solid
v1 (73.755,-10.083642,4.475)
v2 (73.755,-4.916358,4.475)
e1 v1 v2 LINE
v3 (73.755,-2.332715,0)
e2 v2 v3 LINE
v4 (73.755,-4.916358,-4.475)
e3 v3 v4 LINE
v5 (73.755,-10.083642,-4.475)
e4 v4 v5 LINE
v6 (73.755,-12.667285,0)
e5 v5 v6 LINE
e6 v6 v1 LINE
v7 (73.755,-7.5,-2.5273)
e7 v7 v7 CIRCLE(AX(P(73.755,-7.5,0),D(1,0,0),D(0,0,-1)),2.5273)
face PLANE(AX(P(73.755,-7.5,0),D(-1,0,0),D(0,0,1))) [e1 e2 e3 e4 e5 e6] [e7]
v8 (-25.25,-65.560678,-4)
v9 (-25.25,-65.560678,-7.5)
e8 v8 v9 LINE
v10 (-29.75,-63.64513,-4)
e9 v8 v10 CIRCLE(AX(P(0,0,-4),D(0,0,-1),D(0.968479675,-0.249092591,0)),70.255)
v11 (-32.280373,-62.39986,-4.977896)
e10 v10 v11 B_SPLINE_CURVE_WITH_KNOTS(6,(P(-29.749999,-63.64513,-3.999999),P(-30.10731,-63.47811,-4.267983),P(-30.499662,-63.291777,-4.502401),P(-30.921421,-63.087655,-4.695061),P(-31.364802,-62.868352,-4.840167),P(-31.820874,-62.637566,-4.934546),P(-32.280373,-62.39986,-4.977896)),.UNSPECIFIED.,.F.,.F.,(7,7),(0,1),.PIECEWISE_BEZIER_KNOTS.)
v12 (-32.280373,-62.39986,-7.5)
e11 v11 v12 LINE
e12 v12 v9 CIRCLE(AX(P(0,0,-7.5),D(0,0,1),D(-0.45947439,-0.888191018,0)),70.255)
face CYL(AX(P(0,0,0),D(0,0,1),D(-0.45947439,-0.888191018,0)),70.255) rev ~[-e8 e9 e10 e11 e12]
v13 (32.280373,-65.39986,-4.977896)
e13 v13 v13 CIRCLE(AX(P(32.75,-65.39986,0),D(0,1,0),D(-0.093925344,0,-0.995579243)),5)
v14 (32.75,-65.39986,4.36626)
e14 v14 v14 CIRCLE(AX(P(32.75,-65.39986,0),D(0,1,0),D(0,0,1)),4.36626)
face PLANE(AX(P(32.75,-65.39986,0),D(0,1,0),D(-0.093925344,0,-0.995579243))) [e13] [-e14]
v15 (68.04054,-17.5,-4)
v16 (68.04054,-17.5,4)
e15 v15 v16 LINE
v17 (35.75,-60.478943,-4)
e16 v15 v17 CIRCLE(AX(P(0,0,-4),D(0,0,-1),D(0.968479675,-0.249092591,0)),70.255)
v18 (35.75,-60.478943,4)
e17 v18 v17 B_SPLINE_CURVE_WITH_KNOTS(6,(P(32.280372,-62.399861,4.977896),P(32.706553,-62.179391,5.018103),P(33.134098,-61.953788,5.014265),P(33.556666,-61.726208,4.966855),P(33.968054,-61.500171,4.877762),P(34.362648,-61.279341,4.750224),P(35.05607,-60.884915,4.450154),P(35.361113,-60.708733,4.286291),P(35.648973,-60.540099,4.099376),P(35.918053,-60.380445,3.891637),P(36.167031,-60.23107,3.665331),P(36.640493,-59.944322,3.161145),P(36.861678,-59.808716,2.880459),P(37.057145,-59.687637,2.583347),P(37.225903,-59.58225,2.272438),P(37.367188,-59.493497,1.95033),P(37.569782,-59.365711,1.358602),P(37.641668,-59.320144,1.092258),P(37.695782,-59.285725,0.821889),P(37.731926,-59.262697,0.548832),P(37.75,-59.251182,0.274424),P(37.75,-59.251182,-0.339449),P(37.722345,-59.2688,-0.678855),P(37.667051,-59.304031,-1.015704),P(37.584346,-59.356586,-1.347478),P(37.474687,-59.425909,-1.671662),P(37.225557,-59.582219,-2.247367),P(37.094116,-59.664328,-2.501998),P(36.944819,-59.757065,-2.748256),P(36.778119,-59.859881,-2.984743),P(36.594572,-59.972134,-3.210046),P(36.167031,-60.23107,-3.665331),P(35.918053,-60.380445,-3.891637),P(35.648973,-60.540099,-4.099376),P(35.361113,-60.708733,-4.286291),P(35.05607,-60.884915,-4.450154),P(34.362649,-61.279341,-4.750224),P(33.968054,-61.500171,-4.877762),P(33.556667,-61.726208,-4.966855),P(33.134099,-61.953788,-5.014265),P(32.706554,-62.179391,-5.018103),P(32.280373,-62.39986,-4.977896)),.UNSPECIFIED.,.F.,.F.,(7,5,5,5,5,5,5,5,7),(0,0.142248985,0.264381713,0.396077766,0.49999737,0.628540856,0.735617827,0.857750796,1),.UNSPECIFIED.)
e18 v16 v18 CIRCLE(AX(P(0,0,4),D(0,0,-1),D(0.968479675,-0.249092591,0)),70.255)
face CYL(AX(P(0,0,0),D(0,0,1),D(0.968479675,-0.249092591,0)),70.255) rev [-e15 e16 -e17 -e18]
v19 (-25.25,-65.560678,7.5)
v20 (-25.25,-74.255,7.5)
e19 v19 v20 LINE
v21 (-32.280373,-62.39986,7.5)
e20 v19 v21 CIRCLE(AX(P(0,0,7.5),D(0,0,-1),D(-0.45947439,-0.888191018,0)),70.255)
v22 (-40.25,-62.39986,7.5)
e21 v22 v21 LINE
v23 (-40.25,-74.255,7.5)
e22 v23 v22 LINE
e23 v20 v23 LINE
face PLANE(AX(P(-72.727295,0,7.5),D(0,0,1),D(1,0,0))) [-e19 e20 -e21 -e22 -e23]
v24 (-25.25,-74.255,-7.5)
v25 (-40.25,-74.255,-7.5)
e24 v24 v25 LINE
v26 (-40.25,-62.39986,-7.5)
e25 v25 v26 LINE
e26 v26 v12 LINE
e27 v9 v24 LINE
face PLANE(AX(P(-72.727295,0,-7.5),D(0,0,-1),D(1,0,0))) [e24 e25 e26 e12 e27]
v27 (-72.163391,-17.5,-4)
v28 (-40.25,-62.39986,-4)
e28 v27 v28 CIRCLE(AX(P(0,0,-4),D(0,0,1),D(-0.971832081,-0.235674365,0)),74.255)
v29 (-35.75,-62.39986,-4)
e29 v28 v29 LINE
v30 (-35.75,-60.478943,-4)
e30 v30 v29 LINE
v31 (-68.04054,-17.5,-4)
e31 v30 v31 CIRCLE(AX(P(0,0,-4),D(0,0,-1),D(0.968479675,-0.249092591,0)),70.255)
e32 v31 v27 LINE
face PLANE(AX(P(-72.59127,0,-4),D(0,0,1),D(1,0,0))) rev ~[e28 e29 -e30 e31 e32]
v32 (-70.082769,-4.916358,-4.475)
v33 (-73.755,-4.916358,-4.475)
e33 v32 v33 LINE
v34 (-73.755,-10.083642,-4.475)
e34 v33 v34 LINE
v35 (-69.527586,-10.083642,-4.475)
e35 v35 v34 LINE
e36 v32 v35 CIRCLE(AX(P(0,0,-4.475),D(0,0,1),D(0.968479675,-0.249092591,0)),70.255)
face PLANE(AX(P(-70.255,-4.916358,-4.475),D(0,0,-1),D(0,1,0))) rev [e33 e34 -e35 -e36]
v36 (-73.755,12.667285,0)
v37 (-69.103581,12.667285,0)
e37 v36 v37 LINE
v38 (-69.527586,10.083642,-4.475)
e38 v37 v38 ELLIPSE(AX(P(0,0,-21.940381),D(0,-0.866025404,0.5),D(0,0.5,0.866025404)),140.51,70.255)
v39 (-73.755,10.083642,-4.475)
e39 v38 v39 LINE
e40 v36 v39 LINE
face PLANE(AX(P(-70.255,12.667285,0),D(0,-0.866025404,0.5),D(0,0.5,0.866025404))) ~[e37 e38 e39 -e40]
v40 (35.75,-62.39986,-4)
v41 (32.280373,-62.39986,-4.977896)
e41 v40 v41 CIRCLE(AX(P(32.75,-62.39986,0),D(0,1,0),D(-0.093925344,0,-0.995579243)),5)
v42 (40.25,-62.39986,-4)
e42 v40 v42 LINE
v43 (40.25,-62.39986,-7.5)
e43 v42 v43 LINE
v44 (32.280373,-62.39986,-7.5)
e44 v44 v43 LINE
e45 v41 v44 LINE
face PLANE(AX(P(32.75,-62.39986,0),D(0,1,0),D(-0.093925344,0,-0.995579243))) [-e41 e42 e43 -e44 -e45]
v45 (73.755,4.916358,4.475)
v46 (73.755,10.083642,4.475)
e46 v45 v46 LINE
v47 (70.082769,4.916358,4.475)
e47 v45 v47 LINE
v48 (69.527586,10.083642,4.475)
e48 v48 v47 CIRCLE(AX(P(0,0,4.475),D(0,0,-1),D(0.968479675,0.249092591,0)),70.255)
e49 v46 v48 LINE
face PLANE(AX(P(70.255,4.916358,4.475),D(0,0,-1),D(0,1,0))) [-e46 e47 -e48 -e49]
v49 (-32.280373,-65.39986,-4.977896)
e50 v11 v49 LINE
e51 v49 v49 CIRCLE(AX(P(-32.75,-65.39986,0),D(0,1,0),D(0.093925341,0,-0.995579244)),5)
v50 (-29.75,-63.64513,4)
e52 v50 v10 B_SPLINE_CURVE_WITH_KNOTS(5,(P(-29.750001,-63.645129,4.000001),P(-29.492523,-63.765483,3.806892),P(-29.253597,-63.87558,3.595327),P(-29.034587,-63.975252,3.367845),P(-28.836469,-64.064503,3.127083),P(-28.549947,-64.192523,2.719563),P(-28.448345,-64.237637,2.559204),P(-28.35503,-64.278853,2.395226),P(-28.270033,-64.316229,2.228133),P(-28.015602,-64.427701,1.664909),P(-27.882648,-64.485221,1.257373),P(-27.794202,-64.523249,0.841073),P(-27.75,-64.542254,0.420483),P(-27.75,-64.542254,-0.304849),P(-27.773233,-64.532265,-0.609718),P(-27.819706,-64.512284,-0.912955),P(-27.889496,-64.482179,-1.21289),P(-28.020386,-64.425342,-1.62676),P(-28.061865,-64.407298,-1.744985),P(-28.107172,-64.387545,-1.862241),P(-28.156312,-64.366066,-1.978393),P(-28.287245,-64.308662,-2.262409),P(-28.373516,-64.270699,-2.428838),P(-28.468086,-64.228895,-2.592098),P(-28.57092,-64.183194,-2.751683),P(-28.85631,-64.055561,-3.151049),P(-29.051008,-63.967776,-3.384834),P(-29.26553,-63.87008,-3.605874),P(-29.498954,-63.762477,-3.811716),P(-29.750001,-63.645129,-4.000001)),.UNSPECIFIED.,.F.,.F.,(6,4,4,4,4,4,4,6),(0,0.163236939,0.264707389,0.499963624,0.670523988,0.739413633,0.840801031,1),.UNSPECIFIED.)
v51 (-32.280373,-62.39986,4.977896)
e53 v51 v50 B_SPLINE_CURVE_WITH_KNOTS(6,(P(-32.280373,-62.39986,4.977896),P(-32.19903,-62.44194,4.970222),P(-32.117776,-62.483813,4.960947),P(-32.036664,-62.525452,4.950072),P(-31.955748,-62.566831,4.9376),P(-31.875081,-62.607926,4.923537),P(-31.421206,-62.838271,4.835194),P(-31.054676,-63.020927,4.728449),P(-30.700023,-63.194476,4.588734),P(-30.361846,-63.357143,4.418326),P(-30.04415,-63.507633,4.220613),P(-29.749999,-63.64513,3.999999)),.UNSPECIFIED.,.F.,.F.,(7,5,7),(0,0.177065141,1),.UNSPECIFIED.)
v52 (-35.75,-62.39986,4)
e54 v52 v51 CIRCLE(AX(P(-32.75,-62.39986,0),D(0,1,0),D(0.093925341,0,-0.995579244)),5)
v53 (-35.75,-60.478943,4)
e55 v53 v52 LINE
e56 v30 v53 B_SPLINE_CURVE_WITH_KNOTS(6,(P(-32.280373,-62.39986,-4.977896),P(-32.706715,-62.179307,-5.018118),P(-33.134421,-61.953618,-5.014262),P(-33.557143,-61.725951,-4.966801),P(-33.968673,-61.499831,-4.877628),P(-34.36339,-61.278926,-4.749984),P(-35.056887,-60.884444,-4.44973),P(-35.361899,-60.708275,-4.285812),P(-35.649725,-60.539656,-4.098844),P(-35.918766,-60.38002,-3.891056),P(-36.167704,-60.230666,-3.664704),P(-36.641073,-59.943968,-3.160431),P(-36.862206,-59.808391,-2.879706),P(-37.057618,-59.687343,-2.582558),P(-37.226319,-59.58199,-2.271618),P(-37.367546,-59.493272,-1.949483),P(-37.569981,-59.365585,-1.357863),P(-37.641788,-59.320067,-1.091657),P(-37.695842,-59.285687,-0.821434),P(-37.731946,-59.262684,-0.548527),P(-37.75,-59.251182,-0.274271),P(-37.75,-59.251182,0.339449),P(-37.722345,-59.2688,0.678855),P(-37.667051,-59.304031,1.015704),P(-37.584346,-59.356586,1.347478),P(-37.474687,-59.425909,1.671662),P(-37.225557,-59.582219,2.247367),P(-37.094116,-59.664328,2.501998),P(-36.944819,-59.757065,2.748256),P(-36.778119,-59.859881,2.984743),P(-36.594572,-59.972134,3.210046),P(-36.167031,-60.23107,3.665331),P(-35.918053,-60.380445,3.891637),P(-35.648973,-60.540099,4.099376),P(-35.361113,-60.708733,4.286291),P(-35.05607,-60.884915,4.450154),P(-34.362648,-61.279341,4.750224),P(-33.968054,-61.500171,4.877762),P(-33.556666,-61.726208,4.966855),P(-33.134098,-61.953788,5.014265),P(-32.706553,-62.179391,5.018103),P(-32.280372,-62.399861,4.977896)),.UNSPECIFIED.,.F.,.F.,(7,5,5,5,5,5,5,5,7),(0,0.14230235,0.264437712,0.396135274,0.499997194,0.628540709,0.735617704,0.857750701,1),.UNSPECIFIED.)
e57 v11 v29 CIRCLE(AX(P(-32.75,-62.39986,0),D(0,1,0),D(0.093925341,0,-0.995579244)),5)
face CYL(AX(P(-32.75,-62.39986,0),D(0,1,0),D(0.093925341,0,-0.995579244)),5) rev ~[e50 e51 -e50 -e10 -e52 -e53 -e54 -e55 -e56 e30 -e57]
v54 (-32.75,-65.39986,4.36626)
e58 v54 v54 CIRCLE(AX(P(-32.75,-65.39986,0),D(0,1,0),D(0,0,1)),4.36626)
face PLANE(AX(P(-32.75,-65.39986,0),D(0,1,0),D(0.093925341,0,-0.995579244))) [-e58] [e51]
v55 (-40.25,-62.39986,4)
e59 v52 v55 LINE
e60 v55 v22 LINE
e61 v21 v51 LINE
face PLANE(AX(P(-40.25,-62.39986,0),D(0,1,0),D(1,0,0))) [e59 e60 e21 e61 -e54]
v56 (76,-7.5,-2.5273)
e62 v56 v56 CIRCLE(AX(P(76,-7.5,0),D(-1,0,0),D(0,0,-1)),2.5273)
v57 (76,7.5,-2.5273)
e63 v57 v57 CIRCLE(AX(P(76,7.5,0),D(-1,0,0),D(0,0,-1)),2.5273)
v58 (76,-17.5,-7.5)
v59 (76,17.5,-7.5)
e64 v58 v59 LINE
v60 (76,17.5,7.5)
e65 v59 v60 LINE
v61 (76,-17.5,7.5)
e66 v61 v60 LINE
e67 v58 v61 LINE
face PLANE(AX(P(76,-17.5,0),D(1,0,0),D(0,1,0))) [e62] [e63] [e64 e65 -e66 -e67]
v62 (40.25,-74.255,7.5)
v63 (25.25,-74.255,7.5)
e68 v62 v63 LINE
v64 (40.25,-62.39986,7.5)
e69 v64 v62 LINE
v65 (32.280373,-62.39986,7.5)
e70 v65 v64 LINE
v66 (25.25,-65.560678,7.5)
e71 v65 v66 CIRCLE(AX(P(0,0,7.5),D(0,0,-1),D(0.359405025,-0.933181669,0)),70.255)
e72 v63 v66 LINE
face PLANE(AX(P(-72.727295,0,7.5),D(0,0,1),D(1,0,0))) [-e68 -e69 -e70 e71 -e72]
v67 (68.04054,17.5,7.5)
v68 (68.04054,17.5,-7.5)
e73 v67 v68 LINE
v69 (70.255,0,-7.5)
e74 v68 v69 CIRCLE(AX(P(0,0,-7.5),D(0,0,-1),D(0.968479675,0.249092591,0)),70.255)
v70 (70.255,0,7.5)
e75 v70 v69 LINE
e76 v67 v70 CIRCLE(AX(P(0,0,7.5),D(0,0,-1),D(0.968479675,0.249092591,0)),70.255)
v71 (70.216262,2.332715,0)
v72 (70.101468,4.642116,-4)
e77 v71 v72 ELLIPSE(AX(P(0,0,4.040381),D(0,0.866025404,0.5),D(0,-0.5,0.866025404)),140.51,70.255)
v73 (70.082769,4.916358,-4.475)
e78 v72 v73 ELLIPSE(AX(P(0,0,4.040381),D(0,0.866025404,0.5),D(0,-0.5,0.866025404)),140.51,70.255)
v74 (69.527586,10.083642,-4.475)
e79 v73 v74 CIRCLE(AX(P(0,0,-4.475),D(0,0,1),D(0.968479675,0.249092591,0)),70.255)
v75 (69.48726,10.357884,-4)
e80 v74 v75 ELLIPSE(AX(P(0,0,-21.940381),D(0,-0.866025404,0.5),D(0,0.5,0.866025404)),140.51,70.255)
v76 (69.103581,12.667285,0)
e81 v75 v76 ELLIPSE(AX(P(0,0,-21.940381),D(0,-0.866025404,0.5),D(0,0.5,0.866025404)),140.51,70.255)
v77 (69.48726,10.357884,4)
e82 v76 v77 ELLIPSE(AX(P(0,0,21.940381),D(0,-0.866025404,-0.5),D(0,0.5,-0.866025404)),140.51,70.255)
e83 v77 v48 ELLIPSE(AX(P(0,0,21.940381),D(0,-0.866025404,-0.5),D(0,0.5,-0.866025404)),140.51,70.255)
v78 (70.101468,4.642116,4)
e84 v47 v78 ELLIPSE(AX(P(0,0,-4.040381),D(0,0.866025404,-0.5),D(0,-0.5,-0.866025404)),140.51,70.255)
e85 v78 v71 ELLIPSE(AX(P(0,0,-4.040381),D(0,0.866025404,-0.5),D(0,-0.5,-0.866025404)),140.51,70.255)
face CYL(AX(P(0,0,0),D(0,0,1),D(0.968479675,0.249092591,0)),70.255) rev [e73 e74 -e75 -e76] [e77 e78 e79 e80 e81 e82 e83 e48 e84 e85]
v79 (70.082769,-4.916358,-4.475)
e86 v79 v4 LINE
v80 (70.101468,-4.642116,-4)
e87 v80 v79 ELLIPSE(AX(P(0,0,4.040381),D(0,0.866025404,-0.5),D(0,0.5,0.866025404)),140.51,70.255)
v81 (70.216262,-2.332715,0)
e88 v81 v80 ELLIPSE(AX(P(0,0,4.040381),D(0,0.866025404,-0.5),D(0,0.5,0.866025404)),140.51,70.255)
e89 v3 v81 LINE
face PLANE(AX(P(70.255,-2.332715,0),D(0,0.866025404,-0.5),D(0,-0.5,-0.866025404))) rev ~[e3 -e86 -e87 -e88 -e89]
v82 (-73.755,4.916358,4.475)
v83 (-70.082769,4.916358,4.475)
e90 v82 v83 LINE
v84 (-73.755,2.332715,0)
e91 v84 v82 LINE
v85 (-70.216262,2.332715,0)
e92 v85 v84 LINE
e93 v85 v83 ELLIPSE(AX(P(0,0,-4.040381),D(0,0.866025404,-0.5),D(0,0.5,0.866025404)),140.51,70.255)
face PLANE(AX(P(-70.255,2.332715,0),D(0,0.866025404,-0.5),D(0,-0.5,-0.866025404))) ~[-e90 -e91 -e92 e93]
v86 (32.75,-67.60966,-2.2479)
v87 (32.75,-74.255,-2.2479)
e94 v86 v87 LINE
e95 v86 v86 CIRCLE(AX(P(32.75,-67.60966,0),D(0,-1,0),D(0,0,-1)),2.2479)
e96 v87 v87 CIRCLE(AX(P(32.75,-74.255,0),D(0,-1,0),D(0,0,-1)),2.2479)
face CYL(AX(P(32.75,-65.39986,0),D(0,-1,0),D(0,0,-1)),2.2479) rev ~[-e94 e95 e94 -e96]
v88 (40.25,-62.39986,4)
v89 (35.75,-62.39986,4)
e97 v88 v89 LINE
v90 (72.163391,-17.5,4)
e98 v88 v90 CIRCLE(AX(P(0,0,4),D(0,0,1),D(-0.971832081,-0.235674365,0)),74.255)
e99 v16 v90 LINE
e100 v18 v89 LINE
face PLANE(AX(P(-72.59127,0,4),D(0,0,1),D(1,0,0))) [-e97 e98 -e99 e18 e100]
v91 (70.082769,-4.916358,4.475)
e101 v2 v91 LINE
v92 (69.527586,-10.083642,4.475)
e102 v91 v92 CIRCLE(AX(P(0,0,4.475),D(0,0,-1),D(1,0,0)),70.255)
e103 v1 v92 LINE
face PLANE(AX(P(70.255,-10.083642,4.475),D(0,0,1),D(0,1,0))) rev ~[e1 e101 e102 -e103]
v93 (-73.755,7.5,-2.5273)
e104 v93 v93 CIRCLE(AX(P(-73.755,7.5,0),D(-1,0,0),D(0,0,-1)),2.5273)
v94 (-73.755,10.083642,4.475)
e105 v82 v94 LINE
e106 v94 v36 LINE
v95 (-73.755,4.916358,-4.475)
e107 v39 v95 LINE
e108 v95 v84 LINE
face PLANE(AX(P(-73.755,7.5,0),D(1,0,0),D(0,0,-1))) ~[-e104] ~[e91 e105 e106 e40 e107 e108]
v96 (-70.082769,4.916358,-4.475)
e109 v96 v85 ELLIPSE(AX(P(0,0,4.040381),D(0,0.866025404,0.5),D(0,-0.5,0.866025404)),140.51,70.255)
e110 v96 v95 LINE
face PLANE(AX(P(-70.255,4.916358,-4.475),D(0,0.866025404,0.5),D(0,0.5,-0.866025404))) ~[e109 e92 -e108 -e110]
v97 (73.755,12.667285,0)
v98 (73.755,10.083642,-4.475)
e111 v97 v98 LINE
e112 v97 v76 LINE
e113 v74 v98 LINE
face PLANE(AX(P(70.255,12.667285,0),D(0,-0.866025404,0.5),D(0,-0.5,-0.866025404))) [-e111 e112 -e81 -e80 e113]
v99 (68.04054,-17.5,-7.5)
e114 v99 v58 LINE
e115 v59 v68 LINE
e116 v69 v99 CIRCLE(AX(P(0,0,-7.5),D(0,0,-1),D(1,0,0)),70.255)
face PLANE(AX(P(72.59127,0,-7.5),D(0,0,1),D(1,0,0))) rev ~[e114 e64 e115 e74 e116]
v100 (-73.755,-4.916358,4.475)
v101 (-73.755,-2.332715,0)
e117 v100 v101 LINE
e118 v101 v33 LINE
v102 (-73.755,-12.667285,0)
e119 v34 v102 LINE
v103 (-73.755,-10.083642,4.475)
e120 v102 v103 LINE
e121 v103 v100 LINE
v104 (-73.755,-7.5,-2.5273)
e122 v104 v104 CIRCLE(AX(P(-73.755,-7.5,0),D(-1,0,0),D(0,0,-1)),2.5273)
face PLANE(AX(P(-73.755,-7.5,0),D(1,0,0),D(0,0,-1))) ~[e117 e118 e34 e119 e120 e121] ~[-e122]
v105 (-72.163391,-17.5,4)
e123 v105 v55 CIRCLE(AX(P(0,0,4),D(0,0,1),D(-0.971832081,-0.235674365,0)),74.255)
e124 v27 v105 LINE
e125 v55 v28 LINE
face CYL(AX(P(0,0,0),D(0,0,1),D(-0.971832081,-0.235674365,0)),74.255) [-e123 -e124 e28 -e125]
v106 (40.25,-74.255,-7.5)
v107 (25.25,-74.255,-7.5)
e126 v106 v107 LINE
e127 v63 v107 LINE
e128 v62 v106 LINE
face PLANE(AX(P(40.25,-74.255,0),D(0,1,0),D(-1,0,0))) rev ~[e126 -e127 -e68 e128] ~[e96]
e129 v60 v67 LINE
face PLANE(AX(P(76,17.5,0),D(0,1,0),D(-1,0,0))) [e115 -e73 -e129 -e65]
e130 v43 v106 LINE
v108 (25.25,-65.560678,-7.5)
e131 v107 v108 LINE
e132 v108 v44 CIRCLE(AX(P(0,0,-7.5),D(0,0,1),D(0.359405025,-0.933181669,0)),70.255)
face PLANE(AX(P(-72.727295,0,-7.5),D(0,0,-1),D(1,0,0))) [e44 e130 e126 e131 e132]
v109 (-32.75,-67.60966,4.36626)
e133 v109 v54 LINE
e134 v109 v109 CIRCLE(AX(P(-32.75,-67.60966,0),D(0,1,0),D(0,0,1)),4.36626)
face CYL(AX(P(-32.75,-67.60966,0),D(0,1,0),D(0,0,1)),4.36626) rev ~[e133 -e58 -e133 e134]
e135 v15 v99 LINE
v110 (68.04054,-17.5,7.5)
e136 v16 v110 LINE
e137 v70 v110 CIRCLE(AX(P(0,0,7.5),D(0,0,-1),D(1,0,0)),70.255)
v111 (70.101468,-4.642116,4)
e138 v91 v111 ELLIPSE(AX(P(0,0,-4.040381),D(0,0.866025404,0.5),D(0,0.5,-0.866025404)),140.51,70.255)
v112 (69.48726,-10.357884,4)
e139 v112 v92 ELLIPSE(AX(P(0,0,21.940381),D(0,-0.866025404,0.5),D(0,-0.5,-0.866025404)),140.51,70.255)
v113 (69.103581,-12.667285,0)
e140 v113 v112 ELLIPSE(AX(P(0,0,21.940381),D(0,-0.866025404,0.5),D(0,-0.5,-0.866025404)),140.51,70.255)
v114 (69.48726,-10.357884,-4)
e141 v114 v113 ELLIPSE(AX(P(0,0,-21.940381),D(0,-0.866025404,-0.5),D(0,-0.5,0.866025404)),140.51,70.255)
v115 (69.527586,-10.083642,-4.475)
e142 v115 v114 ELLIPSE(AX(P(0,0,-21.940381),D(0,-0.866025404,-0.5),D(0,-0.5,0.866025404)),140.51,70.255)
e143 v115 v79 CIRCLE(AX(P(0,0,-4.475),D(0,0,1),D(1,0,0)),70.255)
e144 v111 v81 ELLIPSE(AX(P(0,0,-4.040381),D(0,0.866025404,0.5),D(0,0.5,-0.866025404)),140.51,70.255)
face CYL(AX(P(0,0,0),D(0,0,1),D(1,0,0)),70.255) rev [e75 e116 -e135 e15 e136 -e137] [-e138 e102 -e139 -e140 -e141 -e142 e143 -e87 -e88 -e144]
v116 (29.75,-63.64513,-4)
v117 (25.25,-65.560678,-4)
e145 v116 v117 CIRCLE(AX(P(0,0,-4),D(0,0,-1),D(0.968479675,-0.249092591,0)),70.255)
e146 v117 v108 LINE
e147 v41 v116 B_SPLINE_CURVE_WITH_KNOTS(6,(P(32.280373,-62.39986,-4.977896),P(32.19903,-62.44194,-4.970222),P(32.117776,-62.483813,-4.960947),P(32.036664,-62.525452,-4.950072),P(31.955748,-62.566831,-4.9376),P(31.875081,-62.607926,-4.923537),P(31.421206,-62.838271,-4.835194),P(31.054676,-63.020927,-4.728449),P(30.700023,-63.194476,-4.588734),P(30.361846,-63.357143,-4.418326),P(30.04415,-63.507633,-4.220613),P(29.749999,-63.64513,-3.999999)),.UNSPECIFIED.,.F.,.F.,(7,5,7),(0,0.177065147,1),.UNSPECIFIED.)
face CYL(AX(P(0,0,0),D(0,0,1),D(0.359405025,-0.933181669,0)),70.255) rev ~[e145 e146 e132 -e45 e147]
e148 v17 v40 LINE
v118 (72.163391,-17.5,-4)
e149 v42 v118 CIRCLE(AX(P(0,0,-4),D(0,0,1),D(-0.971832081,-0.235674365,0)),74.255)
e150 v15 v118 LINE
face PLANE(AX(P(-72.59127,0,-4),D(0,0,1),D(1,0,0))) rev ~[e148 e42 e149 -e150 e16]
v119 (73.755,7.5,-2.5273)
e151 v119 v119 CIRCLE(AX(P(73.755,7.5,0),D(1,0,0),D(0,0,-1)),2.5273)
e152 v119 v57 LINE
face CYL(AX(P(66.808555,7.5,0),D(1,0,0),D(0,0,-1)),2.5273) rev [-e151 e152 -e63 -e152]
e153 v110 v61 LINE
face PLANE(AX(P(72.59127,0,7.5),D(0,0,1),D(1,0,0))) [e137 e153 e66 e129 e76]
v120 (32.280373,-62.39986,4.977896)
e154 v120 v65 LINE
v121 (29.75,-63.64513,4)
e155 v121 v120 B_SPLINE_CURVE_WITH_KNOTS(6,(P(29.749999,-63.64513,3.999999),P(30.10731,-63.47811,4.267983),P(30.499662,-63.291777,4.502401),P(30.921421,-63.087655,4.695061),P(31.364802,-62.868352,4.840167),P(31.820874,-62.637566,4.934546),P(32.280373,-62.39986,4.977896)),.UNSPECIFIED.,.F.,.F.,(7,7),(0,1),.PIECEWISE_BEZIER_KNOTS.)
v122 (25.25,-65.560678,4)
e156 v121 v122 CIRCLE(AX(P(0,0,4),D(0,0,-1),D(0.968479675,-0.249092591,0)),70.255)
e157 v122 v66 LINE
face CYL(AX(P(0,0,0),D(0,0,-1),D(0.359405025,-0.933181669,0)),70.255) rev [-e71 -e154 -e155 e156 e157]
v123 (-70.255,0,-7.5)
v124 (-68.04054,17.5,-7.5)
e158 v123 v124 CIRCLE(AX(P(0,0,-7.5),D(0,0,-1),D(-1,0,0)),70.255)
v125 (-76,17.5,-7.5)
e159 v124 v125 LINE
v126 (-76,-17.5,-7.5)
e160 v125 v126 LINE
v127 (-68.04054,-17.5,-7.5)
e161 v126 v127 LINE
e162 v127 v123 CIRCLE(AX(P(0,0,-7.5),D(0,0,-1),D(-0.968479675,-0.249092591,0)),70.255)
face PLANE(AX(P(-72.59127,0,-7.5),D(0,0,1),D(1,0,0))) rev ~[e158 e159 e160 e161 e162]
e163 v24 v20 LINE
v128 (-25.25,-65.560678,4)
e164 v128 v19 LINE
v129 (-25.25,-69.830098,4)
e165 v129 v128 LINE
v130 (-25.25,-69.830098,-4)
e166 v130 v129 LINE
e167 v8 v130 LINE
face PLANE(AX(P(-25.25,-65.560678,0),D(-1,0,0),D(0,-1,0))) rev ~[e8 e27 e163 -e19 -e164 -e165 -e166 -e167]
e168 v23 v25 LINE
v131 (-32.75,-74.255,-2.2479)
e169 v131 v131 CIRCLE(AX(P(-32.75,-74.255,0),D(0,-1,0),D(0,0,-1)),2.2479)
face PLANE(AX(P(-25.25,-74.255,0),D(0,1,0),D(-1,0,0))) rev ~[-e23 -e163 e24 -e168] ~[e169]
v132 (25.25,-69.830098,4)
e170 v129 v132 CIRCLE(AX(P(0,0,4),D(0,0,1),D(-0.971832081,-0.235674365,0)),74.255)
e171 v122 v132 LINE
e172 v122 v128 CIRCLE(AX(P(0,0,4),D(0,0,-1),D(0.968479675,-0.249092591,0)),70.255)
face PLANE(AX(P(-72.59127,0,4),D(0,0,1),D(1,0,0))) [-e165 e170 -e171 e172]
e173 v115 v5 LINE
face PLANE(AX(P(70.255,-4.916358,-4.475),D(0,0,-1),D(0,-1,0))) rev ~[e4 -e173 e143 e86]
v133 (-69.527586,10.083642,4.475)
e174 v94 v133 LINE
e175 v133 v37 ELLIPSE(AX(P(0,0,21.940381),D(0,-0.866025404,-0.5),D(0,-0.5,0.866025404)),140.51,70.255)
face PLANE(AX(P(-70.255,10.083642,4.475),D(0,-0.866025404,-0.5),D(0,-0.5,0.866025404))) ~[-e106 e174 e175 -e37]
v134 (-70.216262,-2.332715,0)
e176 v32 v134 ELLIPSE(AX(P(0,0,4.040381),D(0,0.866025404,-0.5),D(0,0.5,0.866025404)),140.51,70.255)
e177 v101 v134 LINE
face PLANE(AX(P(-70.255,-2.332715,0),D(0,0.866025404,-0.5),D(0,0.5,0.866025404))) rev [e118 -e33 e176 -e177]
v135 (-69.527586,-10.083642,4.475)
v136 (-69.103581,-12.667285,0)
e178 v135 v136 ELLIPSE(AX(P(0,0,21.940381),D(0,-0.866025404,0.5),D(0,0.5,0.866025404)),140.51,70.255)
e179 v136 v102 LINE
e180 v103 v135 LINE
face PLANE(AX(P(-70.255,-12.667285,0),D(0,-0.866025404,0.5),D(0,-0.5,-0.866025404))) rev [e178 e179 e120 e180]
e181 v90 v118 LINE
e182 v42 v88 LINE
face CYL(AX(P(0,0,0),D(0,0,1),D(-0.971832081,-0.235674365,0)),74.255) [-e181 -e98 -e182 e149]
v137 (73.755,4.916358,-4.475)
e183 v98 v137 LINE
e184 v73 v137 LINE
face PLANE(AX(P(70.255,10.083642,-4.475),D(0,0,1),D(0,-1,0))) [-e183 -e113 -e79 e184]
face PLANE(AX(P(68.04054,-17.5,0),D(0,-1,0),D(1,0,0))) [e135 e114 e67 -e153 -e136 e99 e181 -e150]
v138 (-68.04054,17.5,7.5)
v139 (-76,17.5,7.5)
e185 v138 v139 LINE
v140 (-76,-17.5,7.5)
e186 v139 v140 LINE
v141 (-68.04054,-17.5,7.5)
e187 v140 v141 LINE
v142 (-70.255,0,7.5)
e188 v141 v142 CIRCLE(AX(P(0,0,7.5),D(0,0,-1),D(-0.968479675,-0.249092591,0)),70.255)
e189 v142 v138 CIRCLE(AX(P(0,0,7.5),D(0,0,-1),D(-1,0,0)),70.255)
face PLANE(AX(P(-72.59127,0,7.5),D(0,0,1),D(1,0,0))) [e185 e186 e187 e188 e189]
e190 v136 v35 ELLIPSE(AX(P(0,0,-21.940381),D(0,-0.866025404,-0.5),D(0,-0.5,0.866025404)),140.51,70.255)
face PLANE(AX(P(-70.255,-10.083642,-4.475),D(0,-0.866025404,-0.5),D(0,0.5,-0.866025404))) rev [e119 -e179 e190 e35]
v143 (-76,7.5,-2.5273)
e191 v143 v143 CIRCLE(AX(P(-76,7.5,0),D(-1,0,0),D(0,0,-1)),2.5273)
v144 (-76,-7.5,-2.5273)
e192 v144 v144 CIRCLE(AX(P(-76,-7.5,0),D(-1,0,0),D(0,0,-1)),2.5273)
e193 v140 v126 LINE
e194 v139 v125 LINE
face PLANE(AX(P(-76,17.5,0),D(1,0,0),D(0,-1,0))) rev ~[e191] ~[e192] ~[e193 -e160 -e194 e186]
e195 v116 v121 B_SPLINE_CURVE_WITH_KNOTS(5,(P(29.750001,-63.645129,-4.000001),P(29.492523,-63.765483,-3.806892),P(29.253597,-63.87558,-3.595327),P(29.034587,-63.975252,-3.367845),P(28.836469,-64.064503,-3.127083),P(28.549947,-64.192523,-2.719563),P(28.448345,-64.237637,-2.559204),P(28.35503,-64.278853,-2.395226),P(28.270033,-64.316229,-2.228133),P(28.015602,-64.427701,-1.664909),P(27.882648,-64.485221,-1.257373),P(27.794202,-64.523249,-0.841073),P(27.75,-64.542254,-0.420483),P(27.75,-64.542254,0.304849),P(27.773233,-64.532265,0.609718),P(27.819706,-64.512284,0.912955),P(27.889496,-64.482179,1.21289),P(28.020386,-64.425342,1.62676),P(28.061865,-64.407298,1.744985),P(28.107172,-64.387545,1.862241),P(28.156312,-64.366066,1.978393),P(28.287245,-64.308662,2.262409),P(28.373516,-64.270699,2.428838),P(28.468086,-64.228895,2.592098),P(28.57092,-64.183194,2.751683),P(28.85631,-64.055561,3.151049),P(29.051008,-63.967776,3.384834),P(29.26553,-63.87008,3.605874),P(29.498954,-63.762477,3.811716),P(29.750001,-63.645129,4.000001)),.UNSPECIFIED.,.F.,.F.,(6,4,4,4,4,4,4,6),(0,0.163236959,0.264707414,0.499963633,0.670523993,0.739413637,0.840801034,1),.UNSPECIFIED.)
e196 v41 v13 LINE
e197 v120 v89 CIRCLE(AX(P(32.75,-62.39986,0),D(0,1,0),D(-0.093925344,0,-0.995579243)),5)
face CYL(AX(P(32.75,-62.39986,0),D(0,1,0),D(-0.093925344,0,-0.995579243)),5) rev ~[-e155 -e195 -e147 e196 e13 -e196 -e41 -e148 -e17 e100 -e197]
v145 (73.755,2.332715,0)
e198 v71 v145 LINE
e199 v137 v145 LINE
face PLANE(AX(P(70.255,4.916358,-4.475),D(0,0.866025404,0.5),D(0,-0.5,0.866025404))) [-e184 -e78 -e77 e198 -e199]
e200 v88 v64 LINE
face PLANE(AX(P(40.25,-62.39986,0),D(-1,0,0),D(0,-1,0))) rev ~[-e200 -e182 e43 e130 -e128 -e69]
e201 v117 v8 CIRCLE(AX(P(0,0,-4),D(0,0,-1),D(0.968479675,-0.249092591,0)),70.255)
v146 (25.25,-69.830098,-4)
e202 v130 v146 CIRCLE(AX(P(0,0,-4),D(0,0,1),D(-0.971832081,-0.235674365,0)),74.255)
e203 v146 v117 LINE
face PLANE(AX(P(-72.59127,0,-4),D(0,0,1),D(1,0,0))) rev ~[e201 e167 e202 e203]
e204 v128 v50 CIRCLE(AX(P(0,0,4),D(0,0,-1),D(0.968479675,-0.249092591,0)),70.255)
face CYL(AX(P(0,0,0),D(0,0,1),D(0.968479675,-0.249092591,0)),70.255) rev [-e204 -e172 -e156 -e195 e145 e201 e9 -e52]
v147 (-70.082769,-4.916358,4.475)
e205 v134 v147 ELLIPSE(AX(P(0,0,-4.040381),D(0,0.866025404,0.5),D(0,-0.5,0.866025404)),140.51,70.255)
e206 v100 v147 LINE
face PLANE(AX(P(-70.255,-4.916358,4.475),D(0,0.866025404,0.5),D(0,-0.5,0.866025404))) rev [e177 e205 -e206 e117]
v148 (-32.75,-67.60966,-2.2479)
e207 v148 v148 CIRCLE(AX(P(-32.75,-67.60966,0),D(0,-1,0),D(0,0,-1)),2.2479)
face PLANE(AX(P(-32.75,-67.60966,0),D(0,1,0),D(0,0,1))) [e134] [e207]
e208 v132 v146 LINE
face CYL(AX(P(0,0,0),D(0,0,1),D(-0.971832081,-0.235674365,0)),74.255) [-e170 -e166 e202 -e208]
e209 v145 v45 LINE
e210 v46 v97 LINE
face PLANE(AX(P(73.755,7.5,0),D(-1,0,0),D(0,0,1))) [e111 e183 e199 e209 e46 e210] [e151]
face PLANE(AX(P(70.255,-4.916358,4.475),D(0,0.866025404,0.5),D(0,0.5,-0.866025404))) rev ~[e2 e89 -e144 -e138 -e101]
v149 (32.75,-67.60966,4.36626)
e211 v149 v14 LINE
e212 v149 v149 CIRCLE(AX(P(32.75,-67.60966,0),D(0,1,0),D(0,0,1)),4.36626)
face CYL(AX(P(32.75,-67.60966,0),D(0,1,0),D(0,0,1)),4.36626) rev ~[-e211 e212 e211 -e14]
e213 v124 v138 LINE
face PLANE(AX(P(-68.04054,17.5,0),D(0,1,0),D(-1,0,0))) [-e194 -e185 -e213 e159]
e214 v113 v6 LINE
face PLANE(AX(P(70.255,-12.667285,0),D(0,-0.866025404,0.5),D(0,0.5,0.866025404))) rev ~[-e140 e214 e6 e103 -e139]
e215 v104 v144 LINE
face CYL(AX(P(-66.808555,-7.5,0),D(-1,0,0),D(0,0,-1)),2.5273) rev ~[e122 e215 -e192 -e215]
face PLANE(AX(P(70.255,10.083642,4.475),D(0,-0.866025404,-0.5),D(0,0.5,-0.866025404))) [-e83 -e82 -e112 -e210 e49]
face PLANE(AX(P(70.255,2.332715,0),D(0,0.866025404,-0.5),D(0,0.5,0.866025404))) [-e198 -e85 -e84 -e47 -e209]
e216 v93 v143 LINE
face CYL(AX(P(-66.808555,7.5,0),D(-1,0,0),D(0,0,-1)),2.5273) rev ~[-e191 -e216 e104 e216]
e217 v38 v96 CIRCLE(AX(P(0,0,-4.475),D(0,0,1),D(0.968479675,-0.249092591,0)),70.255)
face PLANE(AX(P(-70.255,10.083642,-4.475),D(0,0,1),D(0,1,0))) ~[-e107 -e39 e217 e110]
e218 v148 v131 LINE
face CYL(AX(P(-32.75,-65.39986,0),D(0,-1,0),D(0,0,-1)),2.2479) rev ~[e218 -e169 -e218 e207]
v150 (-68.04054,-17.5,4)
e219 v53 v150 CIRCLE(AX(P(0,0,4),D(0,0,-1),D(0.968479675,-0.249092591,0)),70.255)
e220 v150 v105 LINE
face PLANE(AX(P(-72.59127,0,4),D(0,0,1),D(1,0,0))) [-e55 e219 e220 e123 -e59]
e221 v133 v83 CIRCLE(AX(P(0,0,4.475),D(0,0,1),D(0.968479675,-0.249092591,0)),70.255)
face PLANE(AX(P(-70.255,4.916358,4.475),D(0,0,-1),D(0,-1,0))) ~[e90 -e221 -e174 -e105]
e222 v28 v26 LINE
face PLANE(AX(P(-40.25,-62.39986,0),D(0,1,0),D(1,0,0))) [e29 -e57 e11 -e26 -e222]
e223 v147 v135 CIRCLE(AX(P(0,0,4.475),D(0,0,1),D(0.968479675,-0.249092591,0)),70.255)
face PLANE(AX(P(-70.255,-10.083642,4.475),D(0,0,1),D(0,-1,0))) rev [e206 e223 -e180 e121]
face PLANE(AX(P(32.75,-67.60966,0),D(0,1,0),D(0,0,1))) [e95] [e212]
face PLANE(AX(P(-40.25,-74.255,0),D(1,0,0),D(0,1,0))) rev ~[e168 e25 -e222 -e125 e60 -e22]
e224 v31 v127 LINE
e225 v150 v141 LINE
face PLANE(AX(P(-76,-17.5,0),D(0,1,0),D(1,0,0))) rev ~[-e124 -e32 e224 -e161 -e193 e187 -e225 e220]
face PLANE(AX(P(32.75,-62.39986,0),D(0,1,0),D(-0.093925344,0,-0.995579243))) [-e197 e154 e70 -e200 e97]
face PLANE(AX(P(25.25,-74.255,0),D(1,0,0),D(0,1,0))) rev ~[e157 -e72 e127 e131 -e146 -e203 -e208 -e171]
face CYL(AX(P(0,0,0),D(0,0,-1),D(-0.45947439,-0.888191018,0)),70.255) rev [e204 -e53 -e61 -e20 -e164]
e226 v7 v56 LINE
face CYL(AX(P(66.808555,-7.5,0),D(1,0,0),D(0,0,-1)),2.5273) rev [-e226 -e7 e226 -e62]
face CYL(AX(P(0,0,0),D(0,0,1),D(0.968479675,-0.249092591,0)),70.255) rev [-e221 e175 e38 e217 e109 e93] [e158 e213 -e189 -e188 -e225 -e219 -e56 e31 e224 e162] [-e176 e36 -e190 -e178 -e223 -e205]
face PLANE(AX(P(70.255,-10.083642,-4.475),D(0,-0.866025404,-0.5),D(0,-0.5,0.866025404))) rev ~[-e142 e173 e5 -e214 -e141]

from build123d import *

# Parameters (mm, degrees)
BOSS_EXTRUDE1_DEPTH                            = 4
BOSS_EXTRUDE2_DEPTH                            = 7.5
CUT_EXTRUDE1_DEPTH                             = 3.5
F_8_0_199_DIAMETER_HOLE1_AT_2_COUNT            = 2
F_8_0_199_DIAMETER_HOLE1_AT_2_PITCH            = 15
BOSS_EXTRUDE3_REACH                            = 108.518
BOSS_EXTRUDE3_DIRECTION_2_REACH                = 108.518
SKETCH6_R                                      = 5
CUT_EXTRUDE2_DEPTH                             = 3.5
CUT_EXTRUDE2_DEPTH_BACK                        = 3
CBORE_FOR_8_BUTTON_HEAD_CAP_SCREW1_D           = 4.4958
CBORE_FOR_8_BUTTON_HEAD_CAP_SCREW1_DEPTH       = 11.649325414
CBORE_FOR_8_BUTTON_HEAD_CAP_SCREW1_CBORE_D     = 8.73252
CBORE_FOR_8_BUTTON_HEAD_CAP_SCREW1_CBORE_DEPTH = 2.2098
CBORE_FOR_8_BUTTON_HEAD_CAP_SCREW1_TIP         = 1.350674586


with BuildPart() as part:
    # Sketch1 → Boss-Extrude1 (new, symmetric)
    with BuildSketch(Plane.XY):
        with BuildLine():
            Line((-76, 17.5), (-76, 0))
            Line((-76, 0), (-76, -17.5))
            Line((-76, -17.5), (-72.163391169, -17.5))
            Line((-72.163391169, -17.5), (-68.04053957, -17.5))
            ThreePointArc((-68.04053957, -17.5), (-69.699186267, -8.81977657), (-70.255, 0))
            ThreePointArc((-70.255, 0), (-69.699186267, 8.81977657), (-68.04053957, 17.5))
            Line((-68.04053957, 17.5), (-70.255, 17.5))
            Line((-70.255, 17.5), (-76, 17.5))
        make_face()
        with BuildLine():
            Line((-68.04053957, -17.5), (-72.163391169, -17.5))
            ThreePointArc((-72.163391169, -17.5), (0, -74.255), (72.163391169, -17.5))
            Line((72.163391169, -17.5), (68.04053957, -17.5))
            ThreePointArc((68.04053957, -17.5), (0, -70.255), (-68.04053957, -17.5))
        make_face()
        with BuildLine():
            Line((68.04053957, -17.5), (72.163391169, -17.5))
            Line((72.163391169, -17.5), (76, -17.5))
            Line((76, -17.5), (76, 0))
            Line((76, 0), (76, 17.5))
            Line((76, 17.5), (70.255, 17.5))
            Line((70.255, 17.5), (68.04053957, 17.5))
            ThreePointArc((68.04053957, 17.5), (69.699186267, 8.81977657), (70.255, 0))
            ThreePointArc((70.255, 0), (69.699186267, -8.81977657), (68.04053957, -17.5))
        make_face()
    extrude(amount=BOSS_EXTRUDE1_DEPTH, both=True)

    # Sketch1<5> → Boss-Extrude2 (add, symmetric)
    with BuildSketch(Plane.XY):
        with BuildLine():
            Line((-76, 17.5), (-76, 0))
            Line((-76, 0), (-76, -17.5))
            Line((-76, -17.5), (-72.163391169, -17.5))
            Line((-72.163391169, -17.5), (-68.04053957, -17.5))
            ThreePointArc((-68.04053957, -17.5), (-69.699186267, -8.81977657), (-70.255, 0))
            ThreePointArc((-70.255, 0), (-69.699186267, 8.81977657), (-68.04053957, 17.5))
            Line((-68.04053957, 17.5), (-70.255, 17.5))
            Line((-70.255, 17.5), (-76, 17.5))
        make_face()
        with BuildLine():
            Line((68.04053957, -17.5), (72.163391169, -17.5))
            Line((72.163391169, -17.5), (76, -17.5))
            Line((76, -17.5), (76, 0))
            Line((76, 0), (76, 17.5))
            Line((76, 17.5), (70.255, 17.5))
            Line((70.255, 17.5), (68.04053957, 17.5))
            ThreePointArc((68.04053957, 17.5), (69.699186267, 8.81977657), (70.255, 0))
            ThreePointArc((70.255, 0), (69.699186267, -8.81977657), (68.04053957, -17.5))
        make_face()
    extrude(amount=BOSS_EXTRUDE2_DEPTH, both=True)

    # Sketch2 → Cut-Extrude1 (cut, symmetric)
    with BuildSketch(Plane.ZY.offset(-70.255)):
        Polygon((0, 2.332715091), (4.475, 4.916357545), (4.475, 10.083642455), (0, 12.667284909), (-4.475, 10.083642455), (-4.475, 4.916357545), align=None)
        Polygon((0, -12.667284909), (4.475, -10.083642455), (4.475, -4.916357545), (0, -2.332715091), (-4.475, -4.916357545), (-4.475, -10.083642455), align=None)
    cut_extrude1 = extrude(amount=CUT_EXTRUDE1_DEPTH, both=True, mode=Mode.SUBTRACT)

    # Sketch4 → #8 (0.199) Diameter Hole1 (revolve, cut)
    with BuildSketch(Plane(origin=(76, 7.5, 0), x_dir=(0, 0, -1), z_dir=(0, 1, 0))):
        Polygon((0, 0), (0, 10.71), (2.5273, 9.191444958), (2.5273, 0), align=None)
    f_8_0_199_diameter_hole1 = revolve(axis=Axis((82.35, 7.5, 0), (-1, 0, 0)), mode=Mode.SUBTRACT)

    # #8 (0.199) Diameter Hole1 at 2: #8 (0.199) Diameter Hole1 ×2
    with Locations(*[(0, -i * F_8_0_199_DIAMETER_HOLE1_AT_2_PITCH, 0) for i in range(1, F_8_0_199_DIAMETER_HOLE1_AT_2_COUNT)]):
        add(f_8_0_199_diameter_hole1, mode=Mode.SUBTRACT)

    # Mirror1: Cut-Extrude1, #8 (0.199) Diameter Hole1 across plane
    add(cut_extrude1.mirror(Plane(origin=(0, 0, 0), x_dir=(0, 0, 1), z_dir=(1, 0, 0))), mode=Mode.SUBTRACT)
    add(f_8_0_199_diameter_hole1.mirror(Plane(origin=(0, 0, 0), x_dir=(0, 0, 1), z_dir=(1, 0, 0))), mode=Mode.SUBTRACT)

    # Mirror1 copy 1 sketch → Mirror1 copy 1 (revolve, cut)
    with BuildSketch(Plane(origin=(-76, -7.5, 0), x_dir=(0, 0, -1), z_dir=(0, 1, 0))):
        Polygon((0, 0), (0, -10.71), (2.5273, -9.191444958), (2.5273, 0), align=None)
    revolve(axis=Axis((-82.35, -7.5, 0), (-1, 0, 0)), mode=Mode.SUBTRACT)

    # Boss-Extrude3: up to this face of the body (flat: up to its plane)
    boss_extrude3_end = Plane(part.part.faces().sort_by_distance((-72.727295349, 0, 7.5))[0])
    # Sketch5 → Boss-Extrude3 (add, up to the picked face)
    with BuildSketch(Plane.XY, mode=Mode.PRIVATE) as boss_extrude3_sk1:
        with BuildLine():
            Line((40.25, -62.399859976), (40.25, -74.255))
            Line((40.25, -74.255), (25.25, -74.255))
            Line((25.25, -74.255), (25.25, -65.560678192))
            ThreePointArc((25.25, -65.560678192), (28.808569138, -64.076761538), (32.280373294, -62.399859976))
            Line((32.280373294, -62.399859976), (40.25, -62.399859976))
        make_face()
    boss_extrude3_tool1 = split(extrude(boss_extrude3_sk1.sketch, amount=BOSS_EXTRUDE3_REACH, mode=Mode.PRIVATE), bisect_by=boss_extrude3_end, keep=Keep.BOTH, mode=Mode.PRIVATE)
    # Sketch5 → Boss-Extrude3 (add, up to the picked face)
    with BuildSketch(Plane.XY, mode=Mode.PRIVATE) as boss_extrude3_sk2:
        with BuildLine():
            Line((-25.25, -74.255), (-40.25, -74.255))
            Line((-40.25, -74.255), (-40.25, -62.399859976))
            Line((-40.25, -62.399859976), (-32.280373294, -62.399859976))
            ThreePointArc((-32.280373294, -62.399859976), (-28.808569138, -64.076761538), (-25.25, -65.560678192))
            Line((-25.25, -65.560678192), (-25.25, -74.255))
        make_face()
    boss_extrude3_tool2 = split(extrude(boss_extrude3_sk2.sketch, amount=BOSS_EXTRUDE3_REACH, mode=Mode.PRIVATE), bisect_by=boss_extrude3_end, keep=Keep.BOTH, mode=Mode.PRIVATE)
    add(boss_extrude3_tool1.solids().sort_by(Axis((33.107767, -68.667419, 0), (0, 0, 1)))[0])
    add(boss_extrude3_tool2.solids().sort_by(Axis((-33.107767, -68.667419, 0), (0, 0, 1)))[0])

    # Boss-Extrude3 direction 2: up to this face of the body (flat: up to its plane)
    boss_extrude3_direction_2_end = Plane(part.part.faces().sort_by_distance((-72.727295349, 0, -7.5))[0])
    # Sketch5 → Boss-Extrude3 direction 2 (add, up to the picked face)
    with BuildSketch(Plane.XY, mode=Mode.PRIVATE) as boss_extrude3_direction_2_sk1:
        with BuildLine():
            Line((40.25, -62.399859976), (40.25, -74.255))
            Line((40.25, -74.255), (25.25, -74.255))
            Line((25.25, -74.255), (25.25, -65.560678192))
            ThreePointArc((25.25, -65.560678192), (28.808569138, -64.076761538), (32.280373294, -62.399859976))
            Line((32.280373294, -62.399859976), (40.25, -62.399859976))
        make_face()
    boss_extrude3_direction_2_tool1 = split(extrude(boss_extrude3_direction_2_sk1.sketch, amount=-BOSS_EXTRUDE3_DIRECTION_2_REACH, mode=Mode.PRIVATE), bisect_by=boss_extrude3_direction_2_end, keep=Keep.BOTH, mode=Mode.PRIVATE)
    # Sketch5 → Boss-Extrude3 direction 2 (add, up to the picked face)
    with BuildSketch(Plane.XY, mode=Mode.PRIVATE) as boss_extrude3_direction_2_sk2:
        with BuildLine():
            Line((-25.25, -74.255), (-40.25, -74.255))
            Line((-40.25, -74.255), (-40.25, -62.399859976))
            Line((-40.25, -62.399859976), (-32.280373294, -62.399859976))
            ThreePointArc((-32.280373294, -62.399859976), (-28.808569138, -64.076761538), (-25.25, -65.560678192))
            Line((-25.25, -65.560678192), (-25.25, -74.255))
        make_face()
    boss_extrude3_direction_2_tool2 = split(extrude(boss_extrude3_direction_2_sk2.sketch, amount=-BOSS_EXTRUDE3_DIRECTION_2_REACH, mode=Mode.PRIVATE), bisect_by=boss_extrude3_direction_2_end, keep=Keep.BOTH, mode=Mode.PRIVATE)
    add(boss_extrude3_direction_2_tool1.solids().sort_by(Axis((33.107767, -68.667419, 0), (0, 0, -1)))[0])
    add(boss_extrude3_direction_2_tool2.solids().sort_by(Axis((-33.107767, -68.667419, 0), (0, 0, -1)))[0])

    # Sketch6 → Cut-Extrude2 (cut, two sides)
    with BuildSketch(Plane(origin=(0, -62.399859976, 0), x_dir=(1, 0, 0), z_dir=(0, 1, 0))) as cut_extrude2_sk:
        with Locations(Location((-32.75, 0, 0), (0, 0, 84.610530172))):
            Circle(SKETCH6_R)
        with Locations(Location((32.75, 0, 0), (0, 0, 95.389469991))):
            Circle(SKETCH6_R)
    extrude(amount=CUT_EXTRUDE2_DEPTH, mode=Mode.SUBTRACT)
    extrude(cut_extrude2_sk.sketch, amount=-CUT_EXTRUDE2_DEPTH_BACK, mode=Mode.SUBTRACT)

    # CBORE for #8 Button Head Cap Screw1
    with Locations(Plane(origin=(-32.75, -65.399859976, 0), x_dir=(0, 0, 1), z_dir=(0, 1, 0))):
        with Locations((0, 0), (0, 65.5)):
            CounterBoreHole(CBORE_FOR_8_BUTTON_HEAD_CAP_SCREW1_D / 2, CBORE_FOR_8_BUTTON_HEAD_CAP_SCREW1_CBORE_D / 2, CBORE_FOR_8_BUTTON_HEAD_CAP_SCREW1_CBORE_DEPTH, depth=CBORE_FOR_8_BUTTON_HEAD_CAP_SCREW1_DEPTH)
            with Locations((0, 0, -(CBORE_FOR_8_BUTTON_HEAD_CAP_SCREW1_DEPTH + CBORE_FOR_8_BUTTON_HEAD_CAP_SCREW1_TIP / 2))):  # 118° drill point
                Cone(0, CBORE_FOR_8_BUTTON_HEAD_CAP_SCREW1_D / 2, CBORE_FOR_8_BUTTON_HEAD_CAP_SCREW1_TIP, mode=Mode.SUBTRACT)


solid = part.part
